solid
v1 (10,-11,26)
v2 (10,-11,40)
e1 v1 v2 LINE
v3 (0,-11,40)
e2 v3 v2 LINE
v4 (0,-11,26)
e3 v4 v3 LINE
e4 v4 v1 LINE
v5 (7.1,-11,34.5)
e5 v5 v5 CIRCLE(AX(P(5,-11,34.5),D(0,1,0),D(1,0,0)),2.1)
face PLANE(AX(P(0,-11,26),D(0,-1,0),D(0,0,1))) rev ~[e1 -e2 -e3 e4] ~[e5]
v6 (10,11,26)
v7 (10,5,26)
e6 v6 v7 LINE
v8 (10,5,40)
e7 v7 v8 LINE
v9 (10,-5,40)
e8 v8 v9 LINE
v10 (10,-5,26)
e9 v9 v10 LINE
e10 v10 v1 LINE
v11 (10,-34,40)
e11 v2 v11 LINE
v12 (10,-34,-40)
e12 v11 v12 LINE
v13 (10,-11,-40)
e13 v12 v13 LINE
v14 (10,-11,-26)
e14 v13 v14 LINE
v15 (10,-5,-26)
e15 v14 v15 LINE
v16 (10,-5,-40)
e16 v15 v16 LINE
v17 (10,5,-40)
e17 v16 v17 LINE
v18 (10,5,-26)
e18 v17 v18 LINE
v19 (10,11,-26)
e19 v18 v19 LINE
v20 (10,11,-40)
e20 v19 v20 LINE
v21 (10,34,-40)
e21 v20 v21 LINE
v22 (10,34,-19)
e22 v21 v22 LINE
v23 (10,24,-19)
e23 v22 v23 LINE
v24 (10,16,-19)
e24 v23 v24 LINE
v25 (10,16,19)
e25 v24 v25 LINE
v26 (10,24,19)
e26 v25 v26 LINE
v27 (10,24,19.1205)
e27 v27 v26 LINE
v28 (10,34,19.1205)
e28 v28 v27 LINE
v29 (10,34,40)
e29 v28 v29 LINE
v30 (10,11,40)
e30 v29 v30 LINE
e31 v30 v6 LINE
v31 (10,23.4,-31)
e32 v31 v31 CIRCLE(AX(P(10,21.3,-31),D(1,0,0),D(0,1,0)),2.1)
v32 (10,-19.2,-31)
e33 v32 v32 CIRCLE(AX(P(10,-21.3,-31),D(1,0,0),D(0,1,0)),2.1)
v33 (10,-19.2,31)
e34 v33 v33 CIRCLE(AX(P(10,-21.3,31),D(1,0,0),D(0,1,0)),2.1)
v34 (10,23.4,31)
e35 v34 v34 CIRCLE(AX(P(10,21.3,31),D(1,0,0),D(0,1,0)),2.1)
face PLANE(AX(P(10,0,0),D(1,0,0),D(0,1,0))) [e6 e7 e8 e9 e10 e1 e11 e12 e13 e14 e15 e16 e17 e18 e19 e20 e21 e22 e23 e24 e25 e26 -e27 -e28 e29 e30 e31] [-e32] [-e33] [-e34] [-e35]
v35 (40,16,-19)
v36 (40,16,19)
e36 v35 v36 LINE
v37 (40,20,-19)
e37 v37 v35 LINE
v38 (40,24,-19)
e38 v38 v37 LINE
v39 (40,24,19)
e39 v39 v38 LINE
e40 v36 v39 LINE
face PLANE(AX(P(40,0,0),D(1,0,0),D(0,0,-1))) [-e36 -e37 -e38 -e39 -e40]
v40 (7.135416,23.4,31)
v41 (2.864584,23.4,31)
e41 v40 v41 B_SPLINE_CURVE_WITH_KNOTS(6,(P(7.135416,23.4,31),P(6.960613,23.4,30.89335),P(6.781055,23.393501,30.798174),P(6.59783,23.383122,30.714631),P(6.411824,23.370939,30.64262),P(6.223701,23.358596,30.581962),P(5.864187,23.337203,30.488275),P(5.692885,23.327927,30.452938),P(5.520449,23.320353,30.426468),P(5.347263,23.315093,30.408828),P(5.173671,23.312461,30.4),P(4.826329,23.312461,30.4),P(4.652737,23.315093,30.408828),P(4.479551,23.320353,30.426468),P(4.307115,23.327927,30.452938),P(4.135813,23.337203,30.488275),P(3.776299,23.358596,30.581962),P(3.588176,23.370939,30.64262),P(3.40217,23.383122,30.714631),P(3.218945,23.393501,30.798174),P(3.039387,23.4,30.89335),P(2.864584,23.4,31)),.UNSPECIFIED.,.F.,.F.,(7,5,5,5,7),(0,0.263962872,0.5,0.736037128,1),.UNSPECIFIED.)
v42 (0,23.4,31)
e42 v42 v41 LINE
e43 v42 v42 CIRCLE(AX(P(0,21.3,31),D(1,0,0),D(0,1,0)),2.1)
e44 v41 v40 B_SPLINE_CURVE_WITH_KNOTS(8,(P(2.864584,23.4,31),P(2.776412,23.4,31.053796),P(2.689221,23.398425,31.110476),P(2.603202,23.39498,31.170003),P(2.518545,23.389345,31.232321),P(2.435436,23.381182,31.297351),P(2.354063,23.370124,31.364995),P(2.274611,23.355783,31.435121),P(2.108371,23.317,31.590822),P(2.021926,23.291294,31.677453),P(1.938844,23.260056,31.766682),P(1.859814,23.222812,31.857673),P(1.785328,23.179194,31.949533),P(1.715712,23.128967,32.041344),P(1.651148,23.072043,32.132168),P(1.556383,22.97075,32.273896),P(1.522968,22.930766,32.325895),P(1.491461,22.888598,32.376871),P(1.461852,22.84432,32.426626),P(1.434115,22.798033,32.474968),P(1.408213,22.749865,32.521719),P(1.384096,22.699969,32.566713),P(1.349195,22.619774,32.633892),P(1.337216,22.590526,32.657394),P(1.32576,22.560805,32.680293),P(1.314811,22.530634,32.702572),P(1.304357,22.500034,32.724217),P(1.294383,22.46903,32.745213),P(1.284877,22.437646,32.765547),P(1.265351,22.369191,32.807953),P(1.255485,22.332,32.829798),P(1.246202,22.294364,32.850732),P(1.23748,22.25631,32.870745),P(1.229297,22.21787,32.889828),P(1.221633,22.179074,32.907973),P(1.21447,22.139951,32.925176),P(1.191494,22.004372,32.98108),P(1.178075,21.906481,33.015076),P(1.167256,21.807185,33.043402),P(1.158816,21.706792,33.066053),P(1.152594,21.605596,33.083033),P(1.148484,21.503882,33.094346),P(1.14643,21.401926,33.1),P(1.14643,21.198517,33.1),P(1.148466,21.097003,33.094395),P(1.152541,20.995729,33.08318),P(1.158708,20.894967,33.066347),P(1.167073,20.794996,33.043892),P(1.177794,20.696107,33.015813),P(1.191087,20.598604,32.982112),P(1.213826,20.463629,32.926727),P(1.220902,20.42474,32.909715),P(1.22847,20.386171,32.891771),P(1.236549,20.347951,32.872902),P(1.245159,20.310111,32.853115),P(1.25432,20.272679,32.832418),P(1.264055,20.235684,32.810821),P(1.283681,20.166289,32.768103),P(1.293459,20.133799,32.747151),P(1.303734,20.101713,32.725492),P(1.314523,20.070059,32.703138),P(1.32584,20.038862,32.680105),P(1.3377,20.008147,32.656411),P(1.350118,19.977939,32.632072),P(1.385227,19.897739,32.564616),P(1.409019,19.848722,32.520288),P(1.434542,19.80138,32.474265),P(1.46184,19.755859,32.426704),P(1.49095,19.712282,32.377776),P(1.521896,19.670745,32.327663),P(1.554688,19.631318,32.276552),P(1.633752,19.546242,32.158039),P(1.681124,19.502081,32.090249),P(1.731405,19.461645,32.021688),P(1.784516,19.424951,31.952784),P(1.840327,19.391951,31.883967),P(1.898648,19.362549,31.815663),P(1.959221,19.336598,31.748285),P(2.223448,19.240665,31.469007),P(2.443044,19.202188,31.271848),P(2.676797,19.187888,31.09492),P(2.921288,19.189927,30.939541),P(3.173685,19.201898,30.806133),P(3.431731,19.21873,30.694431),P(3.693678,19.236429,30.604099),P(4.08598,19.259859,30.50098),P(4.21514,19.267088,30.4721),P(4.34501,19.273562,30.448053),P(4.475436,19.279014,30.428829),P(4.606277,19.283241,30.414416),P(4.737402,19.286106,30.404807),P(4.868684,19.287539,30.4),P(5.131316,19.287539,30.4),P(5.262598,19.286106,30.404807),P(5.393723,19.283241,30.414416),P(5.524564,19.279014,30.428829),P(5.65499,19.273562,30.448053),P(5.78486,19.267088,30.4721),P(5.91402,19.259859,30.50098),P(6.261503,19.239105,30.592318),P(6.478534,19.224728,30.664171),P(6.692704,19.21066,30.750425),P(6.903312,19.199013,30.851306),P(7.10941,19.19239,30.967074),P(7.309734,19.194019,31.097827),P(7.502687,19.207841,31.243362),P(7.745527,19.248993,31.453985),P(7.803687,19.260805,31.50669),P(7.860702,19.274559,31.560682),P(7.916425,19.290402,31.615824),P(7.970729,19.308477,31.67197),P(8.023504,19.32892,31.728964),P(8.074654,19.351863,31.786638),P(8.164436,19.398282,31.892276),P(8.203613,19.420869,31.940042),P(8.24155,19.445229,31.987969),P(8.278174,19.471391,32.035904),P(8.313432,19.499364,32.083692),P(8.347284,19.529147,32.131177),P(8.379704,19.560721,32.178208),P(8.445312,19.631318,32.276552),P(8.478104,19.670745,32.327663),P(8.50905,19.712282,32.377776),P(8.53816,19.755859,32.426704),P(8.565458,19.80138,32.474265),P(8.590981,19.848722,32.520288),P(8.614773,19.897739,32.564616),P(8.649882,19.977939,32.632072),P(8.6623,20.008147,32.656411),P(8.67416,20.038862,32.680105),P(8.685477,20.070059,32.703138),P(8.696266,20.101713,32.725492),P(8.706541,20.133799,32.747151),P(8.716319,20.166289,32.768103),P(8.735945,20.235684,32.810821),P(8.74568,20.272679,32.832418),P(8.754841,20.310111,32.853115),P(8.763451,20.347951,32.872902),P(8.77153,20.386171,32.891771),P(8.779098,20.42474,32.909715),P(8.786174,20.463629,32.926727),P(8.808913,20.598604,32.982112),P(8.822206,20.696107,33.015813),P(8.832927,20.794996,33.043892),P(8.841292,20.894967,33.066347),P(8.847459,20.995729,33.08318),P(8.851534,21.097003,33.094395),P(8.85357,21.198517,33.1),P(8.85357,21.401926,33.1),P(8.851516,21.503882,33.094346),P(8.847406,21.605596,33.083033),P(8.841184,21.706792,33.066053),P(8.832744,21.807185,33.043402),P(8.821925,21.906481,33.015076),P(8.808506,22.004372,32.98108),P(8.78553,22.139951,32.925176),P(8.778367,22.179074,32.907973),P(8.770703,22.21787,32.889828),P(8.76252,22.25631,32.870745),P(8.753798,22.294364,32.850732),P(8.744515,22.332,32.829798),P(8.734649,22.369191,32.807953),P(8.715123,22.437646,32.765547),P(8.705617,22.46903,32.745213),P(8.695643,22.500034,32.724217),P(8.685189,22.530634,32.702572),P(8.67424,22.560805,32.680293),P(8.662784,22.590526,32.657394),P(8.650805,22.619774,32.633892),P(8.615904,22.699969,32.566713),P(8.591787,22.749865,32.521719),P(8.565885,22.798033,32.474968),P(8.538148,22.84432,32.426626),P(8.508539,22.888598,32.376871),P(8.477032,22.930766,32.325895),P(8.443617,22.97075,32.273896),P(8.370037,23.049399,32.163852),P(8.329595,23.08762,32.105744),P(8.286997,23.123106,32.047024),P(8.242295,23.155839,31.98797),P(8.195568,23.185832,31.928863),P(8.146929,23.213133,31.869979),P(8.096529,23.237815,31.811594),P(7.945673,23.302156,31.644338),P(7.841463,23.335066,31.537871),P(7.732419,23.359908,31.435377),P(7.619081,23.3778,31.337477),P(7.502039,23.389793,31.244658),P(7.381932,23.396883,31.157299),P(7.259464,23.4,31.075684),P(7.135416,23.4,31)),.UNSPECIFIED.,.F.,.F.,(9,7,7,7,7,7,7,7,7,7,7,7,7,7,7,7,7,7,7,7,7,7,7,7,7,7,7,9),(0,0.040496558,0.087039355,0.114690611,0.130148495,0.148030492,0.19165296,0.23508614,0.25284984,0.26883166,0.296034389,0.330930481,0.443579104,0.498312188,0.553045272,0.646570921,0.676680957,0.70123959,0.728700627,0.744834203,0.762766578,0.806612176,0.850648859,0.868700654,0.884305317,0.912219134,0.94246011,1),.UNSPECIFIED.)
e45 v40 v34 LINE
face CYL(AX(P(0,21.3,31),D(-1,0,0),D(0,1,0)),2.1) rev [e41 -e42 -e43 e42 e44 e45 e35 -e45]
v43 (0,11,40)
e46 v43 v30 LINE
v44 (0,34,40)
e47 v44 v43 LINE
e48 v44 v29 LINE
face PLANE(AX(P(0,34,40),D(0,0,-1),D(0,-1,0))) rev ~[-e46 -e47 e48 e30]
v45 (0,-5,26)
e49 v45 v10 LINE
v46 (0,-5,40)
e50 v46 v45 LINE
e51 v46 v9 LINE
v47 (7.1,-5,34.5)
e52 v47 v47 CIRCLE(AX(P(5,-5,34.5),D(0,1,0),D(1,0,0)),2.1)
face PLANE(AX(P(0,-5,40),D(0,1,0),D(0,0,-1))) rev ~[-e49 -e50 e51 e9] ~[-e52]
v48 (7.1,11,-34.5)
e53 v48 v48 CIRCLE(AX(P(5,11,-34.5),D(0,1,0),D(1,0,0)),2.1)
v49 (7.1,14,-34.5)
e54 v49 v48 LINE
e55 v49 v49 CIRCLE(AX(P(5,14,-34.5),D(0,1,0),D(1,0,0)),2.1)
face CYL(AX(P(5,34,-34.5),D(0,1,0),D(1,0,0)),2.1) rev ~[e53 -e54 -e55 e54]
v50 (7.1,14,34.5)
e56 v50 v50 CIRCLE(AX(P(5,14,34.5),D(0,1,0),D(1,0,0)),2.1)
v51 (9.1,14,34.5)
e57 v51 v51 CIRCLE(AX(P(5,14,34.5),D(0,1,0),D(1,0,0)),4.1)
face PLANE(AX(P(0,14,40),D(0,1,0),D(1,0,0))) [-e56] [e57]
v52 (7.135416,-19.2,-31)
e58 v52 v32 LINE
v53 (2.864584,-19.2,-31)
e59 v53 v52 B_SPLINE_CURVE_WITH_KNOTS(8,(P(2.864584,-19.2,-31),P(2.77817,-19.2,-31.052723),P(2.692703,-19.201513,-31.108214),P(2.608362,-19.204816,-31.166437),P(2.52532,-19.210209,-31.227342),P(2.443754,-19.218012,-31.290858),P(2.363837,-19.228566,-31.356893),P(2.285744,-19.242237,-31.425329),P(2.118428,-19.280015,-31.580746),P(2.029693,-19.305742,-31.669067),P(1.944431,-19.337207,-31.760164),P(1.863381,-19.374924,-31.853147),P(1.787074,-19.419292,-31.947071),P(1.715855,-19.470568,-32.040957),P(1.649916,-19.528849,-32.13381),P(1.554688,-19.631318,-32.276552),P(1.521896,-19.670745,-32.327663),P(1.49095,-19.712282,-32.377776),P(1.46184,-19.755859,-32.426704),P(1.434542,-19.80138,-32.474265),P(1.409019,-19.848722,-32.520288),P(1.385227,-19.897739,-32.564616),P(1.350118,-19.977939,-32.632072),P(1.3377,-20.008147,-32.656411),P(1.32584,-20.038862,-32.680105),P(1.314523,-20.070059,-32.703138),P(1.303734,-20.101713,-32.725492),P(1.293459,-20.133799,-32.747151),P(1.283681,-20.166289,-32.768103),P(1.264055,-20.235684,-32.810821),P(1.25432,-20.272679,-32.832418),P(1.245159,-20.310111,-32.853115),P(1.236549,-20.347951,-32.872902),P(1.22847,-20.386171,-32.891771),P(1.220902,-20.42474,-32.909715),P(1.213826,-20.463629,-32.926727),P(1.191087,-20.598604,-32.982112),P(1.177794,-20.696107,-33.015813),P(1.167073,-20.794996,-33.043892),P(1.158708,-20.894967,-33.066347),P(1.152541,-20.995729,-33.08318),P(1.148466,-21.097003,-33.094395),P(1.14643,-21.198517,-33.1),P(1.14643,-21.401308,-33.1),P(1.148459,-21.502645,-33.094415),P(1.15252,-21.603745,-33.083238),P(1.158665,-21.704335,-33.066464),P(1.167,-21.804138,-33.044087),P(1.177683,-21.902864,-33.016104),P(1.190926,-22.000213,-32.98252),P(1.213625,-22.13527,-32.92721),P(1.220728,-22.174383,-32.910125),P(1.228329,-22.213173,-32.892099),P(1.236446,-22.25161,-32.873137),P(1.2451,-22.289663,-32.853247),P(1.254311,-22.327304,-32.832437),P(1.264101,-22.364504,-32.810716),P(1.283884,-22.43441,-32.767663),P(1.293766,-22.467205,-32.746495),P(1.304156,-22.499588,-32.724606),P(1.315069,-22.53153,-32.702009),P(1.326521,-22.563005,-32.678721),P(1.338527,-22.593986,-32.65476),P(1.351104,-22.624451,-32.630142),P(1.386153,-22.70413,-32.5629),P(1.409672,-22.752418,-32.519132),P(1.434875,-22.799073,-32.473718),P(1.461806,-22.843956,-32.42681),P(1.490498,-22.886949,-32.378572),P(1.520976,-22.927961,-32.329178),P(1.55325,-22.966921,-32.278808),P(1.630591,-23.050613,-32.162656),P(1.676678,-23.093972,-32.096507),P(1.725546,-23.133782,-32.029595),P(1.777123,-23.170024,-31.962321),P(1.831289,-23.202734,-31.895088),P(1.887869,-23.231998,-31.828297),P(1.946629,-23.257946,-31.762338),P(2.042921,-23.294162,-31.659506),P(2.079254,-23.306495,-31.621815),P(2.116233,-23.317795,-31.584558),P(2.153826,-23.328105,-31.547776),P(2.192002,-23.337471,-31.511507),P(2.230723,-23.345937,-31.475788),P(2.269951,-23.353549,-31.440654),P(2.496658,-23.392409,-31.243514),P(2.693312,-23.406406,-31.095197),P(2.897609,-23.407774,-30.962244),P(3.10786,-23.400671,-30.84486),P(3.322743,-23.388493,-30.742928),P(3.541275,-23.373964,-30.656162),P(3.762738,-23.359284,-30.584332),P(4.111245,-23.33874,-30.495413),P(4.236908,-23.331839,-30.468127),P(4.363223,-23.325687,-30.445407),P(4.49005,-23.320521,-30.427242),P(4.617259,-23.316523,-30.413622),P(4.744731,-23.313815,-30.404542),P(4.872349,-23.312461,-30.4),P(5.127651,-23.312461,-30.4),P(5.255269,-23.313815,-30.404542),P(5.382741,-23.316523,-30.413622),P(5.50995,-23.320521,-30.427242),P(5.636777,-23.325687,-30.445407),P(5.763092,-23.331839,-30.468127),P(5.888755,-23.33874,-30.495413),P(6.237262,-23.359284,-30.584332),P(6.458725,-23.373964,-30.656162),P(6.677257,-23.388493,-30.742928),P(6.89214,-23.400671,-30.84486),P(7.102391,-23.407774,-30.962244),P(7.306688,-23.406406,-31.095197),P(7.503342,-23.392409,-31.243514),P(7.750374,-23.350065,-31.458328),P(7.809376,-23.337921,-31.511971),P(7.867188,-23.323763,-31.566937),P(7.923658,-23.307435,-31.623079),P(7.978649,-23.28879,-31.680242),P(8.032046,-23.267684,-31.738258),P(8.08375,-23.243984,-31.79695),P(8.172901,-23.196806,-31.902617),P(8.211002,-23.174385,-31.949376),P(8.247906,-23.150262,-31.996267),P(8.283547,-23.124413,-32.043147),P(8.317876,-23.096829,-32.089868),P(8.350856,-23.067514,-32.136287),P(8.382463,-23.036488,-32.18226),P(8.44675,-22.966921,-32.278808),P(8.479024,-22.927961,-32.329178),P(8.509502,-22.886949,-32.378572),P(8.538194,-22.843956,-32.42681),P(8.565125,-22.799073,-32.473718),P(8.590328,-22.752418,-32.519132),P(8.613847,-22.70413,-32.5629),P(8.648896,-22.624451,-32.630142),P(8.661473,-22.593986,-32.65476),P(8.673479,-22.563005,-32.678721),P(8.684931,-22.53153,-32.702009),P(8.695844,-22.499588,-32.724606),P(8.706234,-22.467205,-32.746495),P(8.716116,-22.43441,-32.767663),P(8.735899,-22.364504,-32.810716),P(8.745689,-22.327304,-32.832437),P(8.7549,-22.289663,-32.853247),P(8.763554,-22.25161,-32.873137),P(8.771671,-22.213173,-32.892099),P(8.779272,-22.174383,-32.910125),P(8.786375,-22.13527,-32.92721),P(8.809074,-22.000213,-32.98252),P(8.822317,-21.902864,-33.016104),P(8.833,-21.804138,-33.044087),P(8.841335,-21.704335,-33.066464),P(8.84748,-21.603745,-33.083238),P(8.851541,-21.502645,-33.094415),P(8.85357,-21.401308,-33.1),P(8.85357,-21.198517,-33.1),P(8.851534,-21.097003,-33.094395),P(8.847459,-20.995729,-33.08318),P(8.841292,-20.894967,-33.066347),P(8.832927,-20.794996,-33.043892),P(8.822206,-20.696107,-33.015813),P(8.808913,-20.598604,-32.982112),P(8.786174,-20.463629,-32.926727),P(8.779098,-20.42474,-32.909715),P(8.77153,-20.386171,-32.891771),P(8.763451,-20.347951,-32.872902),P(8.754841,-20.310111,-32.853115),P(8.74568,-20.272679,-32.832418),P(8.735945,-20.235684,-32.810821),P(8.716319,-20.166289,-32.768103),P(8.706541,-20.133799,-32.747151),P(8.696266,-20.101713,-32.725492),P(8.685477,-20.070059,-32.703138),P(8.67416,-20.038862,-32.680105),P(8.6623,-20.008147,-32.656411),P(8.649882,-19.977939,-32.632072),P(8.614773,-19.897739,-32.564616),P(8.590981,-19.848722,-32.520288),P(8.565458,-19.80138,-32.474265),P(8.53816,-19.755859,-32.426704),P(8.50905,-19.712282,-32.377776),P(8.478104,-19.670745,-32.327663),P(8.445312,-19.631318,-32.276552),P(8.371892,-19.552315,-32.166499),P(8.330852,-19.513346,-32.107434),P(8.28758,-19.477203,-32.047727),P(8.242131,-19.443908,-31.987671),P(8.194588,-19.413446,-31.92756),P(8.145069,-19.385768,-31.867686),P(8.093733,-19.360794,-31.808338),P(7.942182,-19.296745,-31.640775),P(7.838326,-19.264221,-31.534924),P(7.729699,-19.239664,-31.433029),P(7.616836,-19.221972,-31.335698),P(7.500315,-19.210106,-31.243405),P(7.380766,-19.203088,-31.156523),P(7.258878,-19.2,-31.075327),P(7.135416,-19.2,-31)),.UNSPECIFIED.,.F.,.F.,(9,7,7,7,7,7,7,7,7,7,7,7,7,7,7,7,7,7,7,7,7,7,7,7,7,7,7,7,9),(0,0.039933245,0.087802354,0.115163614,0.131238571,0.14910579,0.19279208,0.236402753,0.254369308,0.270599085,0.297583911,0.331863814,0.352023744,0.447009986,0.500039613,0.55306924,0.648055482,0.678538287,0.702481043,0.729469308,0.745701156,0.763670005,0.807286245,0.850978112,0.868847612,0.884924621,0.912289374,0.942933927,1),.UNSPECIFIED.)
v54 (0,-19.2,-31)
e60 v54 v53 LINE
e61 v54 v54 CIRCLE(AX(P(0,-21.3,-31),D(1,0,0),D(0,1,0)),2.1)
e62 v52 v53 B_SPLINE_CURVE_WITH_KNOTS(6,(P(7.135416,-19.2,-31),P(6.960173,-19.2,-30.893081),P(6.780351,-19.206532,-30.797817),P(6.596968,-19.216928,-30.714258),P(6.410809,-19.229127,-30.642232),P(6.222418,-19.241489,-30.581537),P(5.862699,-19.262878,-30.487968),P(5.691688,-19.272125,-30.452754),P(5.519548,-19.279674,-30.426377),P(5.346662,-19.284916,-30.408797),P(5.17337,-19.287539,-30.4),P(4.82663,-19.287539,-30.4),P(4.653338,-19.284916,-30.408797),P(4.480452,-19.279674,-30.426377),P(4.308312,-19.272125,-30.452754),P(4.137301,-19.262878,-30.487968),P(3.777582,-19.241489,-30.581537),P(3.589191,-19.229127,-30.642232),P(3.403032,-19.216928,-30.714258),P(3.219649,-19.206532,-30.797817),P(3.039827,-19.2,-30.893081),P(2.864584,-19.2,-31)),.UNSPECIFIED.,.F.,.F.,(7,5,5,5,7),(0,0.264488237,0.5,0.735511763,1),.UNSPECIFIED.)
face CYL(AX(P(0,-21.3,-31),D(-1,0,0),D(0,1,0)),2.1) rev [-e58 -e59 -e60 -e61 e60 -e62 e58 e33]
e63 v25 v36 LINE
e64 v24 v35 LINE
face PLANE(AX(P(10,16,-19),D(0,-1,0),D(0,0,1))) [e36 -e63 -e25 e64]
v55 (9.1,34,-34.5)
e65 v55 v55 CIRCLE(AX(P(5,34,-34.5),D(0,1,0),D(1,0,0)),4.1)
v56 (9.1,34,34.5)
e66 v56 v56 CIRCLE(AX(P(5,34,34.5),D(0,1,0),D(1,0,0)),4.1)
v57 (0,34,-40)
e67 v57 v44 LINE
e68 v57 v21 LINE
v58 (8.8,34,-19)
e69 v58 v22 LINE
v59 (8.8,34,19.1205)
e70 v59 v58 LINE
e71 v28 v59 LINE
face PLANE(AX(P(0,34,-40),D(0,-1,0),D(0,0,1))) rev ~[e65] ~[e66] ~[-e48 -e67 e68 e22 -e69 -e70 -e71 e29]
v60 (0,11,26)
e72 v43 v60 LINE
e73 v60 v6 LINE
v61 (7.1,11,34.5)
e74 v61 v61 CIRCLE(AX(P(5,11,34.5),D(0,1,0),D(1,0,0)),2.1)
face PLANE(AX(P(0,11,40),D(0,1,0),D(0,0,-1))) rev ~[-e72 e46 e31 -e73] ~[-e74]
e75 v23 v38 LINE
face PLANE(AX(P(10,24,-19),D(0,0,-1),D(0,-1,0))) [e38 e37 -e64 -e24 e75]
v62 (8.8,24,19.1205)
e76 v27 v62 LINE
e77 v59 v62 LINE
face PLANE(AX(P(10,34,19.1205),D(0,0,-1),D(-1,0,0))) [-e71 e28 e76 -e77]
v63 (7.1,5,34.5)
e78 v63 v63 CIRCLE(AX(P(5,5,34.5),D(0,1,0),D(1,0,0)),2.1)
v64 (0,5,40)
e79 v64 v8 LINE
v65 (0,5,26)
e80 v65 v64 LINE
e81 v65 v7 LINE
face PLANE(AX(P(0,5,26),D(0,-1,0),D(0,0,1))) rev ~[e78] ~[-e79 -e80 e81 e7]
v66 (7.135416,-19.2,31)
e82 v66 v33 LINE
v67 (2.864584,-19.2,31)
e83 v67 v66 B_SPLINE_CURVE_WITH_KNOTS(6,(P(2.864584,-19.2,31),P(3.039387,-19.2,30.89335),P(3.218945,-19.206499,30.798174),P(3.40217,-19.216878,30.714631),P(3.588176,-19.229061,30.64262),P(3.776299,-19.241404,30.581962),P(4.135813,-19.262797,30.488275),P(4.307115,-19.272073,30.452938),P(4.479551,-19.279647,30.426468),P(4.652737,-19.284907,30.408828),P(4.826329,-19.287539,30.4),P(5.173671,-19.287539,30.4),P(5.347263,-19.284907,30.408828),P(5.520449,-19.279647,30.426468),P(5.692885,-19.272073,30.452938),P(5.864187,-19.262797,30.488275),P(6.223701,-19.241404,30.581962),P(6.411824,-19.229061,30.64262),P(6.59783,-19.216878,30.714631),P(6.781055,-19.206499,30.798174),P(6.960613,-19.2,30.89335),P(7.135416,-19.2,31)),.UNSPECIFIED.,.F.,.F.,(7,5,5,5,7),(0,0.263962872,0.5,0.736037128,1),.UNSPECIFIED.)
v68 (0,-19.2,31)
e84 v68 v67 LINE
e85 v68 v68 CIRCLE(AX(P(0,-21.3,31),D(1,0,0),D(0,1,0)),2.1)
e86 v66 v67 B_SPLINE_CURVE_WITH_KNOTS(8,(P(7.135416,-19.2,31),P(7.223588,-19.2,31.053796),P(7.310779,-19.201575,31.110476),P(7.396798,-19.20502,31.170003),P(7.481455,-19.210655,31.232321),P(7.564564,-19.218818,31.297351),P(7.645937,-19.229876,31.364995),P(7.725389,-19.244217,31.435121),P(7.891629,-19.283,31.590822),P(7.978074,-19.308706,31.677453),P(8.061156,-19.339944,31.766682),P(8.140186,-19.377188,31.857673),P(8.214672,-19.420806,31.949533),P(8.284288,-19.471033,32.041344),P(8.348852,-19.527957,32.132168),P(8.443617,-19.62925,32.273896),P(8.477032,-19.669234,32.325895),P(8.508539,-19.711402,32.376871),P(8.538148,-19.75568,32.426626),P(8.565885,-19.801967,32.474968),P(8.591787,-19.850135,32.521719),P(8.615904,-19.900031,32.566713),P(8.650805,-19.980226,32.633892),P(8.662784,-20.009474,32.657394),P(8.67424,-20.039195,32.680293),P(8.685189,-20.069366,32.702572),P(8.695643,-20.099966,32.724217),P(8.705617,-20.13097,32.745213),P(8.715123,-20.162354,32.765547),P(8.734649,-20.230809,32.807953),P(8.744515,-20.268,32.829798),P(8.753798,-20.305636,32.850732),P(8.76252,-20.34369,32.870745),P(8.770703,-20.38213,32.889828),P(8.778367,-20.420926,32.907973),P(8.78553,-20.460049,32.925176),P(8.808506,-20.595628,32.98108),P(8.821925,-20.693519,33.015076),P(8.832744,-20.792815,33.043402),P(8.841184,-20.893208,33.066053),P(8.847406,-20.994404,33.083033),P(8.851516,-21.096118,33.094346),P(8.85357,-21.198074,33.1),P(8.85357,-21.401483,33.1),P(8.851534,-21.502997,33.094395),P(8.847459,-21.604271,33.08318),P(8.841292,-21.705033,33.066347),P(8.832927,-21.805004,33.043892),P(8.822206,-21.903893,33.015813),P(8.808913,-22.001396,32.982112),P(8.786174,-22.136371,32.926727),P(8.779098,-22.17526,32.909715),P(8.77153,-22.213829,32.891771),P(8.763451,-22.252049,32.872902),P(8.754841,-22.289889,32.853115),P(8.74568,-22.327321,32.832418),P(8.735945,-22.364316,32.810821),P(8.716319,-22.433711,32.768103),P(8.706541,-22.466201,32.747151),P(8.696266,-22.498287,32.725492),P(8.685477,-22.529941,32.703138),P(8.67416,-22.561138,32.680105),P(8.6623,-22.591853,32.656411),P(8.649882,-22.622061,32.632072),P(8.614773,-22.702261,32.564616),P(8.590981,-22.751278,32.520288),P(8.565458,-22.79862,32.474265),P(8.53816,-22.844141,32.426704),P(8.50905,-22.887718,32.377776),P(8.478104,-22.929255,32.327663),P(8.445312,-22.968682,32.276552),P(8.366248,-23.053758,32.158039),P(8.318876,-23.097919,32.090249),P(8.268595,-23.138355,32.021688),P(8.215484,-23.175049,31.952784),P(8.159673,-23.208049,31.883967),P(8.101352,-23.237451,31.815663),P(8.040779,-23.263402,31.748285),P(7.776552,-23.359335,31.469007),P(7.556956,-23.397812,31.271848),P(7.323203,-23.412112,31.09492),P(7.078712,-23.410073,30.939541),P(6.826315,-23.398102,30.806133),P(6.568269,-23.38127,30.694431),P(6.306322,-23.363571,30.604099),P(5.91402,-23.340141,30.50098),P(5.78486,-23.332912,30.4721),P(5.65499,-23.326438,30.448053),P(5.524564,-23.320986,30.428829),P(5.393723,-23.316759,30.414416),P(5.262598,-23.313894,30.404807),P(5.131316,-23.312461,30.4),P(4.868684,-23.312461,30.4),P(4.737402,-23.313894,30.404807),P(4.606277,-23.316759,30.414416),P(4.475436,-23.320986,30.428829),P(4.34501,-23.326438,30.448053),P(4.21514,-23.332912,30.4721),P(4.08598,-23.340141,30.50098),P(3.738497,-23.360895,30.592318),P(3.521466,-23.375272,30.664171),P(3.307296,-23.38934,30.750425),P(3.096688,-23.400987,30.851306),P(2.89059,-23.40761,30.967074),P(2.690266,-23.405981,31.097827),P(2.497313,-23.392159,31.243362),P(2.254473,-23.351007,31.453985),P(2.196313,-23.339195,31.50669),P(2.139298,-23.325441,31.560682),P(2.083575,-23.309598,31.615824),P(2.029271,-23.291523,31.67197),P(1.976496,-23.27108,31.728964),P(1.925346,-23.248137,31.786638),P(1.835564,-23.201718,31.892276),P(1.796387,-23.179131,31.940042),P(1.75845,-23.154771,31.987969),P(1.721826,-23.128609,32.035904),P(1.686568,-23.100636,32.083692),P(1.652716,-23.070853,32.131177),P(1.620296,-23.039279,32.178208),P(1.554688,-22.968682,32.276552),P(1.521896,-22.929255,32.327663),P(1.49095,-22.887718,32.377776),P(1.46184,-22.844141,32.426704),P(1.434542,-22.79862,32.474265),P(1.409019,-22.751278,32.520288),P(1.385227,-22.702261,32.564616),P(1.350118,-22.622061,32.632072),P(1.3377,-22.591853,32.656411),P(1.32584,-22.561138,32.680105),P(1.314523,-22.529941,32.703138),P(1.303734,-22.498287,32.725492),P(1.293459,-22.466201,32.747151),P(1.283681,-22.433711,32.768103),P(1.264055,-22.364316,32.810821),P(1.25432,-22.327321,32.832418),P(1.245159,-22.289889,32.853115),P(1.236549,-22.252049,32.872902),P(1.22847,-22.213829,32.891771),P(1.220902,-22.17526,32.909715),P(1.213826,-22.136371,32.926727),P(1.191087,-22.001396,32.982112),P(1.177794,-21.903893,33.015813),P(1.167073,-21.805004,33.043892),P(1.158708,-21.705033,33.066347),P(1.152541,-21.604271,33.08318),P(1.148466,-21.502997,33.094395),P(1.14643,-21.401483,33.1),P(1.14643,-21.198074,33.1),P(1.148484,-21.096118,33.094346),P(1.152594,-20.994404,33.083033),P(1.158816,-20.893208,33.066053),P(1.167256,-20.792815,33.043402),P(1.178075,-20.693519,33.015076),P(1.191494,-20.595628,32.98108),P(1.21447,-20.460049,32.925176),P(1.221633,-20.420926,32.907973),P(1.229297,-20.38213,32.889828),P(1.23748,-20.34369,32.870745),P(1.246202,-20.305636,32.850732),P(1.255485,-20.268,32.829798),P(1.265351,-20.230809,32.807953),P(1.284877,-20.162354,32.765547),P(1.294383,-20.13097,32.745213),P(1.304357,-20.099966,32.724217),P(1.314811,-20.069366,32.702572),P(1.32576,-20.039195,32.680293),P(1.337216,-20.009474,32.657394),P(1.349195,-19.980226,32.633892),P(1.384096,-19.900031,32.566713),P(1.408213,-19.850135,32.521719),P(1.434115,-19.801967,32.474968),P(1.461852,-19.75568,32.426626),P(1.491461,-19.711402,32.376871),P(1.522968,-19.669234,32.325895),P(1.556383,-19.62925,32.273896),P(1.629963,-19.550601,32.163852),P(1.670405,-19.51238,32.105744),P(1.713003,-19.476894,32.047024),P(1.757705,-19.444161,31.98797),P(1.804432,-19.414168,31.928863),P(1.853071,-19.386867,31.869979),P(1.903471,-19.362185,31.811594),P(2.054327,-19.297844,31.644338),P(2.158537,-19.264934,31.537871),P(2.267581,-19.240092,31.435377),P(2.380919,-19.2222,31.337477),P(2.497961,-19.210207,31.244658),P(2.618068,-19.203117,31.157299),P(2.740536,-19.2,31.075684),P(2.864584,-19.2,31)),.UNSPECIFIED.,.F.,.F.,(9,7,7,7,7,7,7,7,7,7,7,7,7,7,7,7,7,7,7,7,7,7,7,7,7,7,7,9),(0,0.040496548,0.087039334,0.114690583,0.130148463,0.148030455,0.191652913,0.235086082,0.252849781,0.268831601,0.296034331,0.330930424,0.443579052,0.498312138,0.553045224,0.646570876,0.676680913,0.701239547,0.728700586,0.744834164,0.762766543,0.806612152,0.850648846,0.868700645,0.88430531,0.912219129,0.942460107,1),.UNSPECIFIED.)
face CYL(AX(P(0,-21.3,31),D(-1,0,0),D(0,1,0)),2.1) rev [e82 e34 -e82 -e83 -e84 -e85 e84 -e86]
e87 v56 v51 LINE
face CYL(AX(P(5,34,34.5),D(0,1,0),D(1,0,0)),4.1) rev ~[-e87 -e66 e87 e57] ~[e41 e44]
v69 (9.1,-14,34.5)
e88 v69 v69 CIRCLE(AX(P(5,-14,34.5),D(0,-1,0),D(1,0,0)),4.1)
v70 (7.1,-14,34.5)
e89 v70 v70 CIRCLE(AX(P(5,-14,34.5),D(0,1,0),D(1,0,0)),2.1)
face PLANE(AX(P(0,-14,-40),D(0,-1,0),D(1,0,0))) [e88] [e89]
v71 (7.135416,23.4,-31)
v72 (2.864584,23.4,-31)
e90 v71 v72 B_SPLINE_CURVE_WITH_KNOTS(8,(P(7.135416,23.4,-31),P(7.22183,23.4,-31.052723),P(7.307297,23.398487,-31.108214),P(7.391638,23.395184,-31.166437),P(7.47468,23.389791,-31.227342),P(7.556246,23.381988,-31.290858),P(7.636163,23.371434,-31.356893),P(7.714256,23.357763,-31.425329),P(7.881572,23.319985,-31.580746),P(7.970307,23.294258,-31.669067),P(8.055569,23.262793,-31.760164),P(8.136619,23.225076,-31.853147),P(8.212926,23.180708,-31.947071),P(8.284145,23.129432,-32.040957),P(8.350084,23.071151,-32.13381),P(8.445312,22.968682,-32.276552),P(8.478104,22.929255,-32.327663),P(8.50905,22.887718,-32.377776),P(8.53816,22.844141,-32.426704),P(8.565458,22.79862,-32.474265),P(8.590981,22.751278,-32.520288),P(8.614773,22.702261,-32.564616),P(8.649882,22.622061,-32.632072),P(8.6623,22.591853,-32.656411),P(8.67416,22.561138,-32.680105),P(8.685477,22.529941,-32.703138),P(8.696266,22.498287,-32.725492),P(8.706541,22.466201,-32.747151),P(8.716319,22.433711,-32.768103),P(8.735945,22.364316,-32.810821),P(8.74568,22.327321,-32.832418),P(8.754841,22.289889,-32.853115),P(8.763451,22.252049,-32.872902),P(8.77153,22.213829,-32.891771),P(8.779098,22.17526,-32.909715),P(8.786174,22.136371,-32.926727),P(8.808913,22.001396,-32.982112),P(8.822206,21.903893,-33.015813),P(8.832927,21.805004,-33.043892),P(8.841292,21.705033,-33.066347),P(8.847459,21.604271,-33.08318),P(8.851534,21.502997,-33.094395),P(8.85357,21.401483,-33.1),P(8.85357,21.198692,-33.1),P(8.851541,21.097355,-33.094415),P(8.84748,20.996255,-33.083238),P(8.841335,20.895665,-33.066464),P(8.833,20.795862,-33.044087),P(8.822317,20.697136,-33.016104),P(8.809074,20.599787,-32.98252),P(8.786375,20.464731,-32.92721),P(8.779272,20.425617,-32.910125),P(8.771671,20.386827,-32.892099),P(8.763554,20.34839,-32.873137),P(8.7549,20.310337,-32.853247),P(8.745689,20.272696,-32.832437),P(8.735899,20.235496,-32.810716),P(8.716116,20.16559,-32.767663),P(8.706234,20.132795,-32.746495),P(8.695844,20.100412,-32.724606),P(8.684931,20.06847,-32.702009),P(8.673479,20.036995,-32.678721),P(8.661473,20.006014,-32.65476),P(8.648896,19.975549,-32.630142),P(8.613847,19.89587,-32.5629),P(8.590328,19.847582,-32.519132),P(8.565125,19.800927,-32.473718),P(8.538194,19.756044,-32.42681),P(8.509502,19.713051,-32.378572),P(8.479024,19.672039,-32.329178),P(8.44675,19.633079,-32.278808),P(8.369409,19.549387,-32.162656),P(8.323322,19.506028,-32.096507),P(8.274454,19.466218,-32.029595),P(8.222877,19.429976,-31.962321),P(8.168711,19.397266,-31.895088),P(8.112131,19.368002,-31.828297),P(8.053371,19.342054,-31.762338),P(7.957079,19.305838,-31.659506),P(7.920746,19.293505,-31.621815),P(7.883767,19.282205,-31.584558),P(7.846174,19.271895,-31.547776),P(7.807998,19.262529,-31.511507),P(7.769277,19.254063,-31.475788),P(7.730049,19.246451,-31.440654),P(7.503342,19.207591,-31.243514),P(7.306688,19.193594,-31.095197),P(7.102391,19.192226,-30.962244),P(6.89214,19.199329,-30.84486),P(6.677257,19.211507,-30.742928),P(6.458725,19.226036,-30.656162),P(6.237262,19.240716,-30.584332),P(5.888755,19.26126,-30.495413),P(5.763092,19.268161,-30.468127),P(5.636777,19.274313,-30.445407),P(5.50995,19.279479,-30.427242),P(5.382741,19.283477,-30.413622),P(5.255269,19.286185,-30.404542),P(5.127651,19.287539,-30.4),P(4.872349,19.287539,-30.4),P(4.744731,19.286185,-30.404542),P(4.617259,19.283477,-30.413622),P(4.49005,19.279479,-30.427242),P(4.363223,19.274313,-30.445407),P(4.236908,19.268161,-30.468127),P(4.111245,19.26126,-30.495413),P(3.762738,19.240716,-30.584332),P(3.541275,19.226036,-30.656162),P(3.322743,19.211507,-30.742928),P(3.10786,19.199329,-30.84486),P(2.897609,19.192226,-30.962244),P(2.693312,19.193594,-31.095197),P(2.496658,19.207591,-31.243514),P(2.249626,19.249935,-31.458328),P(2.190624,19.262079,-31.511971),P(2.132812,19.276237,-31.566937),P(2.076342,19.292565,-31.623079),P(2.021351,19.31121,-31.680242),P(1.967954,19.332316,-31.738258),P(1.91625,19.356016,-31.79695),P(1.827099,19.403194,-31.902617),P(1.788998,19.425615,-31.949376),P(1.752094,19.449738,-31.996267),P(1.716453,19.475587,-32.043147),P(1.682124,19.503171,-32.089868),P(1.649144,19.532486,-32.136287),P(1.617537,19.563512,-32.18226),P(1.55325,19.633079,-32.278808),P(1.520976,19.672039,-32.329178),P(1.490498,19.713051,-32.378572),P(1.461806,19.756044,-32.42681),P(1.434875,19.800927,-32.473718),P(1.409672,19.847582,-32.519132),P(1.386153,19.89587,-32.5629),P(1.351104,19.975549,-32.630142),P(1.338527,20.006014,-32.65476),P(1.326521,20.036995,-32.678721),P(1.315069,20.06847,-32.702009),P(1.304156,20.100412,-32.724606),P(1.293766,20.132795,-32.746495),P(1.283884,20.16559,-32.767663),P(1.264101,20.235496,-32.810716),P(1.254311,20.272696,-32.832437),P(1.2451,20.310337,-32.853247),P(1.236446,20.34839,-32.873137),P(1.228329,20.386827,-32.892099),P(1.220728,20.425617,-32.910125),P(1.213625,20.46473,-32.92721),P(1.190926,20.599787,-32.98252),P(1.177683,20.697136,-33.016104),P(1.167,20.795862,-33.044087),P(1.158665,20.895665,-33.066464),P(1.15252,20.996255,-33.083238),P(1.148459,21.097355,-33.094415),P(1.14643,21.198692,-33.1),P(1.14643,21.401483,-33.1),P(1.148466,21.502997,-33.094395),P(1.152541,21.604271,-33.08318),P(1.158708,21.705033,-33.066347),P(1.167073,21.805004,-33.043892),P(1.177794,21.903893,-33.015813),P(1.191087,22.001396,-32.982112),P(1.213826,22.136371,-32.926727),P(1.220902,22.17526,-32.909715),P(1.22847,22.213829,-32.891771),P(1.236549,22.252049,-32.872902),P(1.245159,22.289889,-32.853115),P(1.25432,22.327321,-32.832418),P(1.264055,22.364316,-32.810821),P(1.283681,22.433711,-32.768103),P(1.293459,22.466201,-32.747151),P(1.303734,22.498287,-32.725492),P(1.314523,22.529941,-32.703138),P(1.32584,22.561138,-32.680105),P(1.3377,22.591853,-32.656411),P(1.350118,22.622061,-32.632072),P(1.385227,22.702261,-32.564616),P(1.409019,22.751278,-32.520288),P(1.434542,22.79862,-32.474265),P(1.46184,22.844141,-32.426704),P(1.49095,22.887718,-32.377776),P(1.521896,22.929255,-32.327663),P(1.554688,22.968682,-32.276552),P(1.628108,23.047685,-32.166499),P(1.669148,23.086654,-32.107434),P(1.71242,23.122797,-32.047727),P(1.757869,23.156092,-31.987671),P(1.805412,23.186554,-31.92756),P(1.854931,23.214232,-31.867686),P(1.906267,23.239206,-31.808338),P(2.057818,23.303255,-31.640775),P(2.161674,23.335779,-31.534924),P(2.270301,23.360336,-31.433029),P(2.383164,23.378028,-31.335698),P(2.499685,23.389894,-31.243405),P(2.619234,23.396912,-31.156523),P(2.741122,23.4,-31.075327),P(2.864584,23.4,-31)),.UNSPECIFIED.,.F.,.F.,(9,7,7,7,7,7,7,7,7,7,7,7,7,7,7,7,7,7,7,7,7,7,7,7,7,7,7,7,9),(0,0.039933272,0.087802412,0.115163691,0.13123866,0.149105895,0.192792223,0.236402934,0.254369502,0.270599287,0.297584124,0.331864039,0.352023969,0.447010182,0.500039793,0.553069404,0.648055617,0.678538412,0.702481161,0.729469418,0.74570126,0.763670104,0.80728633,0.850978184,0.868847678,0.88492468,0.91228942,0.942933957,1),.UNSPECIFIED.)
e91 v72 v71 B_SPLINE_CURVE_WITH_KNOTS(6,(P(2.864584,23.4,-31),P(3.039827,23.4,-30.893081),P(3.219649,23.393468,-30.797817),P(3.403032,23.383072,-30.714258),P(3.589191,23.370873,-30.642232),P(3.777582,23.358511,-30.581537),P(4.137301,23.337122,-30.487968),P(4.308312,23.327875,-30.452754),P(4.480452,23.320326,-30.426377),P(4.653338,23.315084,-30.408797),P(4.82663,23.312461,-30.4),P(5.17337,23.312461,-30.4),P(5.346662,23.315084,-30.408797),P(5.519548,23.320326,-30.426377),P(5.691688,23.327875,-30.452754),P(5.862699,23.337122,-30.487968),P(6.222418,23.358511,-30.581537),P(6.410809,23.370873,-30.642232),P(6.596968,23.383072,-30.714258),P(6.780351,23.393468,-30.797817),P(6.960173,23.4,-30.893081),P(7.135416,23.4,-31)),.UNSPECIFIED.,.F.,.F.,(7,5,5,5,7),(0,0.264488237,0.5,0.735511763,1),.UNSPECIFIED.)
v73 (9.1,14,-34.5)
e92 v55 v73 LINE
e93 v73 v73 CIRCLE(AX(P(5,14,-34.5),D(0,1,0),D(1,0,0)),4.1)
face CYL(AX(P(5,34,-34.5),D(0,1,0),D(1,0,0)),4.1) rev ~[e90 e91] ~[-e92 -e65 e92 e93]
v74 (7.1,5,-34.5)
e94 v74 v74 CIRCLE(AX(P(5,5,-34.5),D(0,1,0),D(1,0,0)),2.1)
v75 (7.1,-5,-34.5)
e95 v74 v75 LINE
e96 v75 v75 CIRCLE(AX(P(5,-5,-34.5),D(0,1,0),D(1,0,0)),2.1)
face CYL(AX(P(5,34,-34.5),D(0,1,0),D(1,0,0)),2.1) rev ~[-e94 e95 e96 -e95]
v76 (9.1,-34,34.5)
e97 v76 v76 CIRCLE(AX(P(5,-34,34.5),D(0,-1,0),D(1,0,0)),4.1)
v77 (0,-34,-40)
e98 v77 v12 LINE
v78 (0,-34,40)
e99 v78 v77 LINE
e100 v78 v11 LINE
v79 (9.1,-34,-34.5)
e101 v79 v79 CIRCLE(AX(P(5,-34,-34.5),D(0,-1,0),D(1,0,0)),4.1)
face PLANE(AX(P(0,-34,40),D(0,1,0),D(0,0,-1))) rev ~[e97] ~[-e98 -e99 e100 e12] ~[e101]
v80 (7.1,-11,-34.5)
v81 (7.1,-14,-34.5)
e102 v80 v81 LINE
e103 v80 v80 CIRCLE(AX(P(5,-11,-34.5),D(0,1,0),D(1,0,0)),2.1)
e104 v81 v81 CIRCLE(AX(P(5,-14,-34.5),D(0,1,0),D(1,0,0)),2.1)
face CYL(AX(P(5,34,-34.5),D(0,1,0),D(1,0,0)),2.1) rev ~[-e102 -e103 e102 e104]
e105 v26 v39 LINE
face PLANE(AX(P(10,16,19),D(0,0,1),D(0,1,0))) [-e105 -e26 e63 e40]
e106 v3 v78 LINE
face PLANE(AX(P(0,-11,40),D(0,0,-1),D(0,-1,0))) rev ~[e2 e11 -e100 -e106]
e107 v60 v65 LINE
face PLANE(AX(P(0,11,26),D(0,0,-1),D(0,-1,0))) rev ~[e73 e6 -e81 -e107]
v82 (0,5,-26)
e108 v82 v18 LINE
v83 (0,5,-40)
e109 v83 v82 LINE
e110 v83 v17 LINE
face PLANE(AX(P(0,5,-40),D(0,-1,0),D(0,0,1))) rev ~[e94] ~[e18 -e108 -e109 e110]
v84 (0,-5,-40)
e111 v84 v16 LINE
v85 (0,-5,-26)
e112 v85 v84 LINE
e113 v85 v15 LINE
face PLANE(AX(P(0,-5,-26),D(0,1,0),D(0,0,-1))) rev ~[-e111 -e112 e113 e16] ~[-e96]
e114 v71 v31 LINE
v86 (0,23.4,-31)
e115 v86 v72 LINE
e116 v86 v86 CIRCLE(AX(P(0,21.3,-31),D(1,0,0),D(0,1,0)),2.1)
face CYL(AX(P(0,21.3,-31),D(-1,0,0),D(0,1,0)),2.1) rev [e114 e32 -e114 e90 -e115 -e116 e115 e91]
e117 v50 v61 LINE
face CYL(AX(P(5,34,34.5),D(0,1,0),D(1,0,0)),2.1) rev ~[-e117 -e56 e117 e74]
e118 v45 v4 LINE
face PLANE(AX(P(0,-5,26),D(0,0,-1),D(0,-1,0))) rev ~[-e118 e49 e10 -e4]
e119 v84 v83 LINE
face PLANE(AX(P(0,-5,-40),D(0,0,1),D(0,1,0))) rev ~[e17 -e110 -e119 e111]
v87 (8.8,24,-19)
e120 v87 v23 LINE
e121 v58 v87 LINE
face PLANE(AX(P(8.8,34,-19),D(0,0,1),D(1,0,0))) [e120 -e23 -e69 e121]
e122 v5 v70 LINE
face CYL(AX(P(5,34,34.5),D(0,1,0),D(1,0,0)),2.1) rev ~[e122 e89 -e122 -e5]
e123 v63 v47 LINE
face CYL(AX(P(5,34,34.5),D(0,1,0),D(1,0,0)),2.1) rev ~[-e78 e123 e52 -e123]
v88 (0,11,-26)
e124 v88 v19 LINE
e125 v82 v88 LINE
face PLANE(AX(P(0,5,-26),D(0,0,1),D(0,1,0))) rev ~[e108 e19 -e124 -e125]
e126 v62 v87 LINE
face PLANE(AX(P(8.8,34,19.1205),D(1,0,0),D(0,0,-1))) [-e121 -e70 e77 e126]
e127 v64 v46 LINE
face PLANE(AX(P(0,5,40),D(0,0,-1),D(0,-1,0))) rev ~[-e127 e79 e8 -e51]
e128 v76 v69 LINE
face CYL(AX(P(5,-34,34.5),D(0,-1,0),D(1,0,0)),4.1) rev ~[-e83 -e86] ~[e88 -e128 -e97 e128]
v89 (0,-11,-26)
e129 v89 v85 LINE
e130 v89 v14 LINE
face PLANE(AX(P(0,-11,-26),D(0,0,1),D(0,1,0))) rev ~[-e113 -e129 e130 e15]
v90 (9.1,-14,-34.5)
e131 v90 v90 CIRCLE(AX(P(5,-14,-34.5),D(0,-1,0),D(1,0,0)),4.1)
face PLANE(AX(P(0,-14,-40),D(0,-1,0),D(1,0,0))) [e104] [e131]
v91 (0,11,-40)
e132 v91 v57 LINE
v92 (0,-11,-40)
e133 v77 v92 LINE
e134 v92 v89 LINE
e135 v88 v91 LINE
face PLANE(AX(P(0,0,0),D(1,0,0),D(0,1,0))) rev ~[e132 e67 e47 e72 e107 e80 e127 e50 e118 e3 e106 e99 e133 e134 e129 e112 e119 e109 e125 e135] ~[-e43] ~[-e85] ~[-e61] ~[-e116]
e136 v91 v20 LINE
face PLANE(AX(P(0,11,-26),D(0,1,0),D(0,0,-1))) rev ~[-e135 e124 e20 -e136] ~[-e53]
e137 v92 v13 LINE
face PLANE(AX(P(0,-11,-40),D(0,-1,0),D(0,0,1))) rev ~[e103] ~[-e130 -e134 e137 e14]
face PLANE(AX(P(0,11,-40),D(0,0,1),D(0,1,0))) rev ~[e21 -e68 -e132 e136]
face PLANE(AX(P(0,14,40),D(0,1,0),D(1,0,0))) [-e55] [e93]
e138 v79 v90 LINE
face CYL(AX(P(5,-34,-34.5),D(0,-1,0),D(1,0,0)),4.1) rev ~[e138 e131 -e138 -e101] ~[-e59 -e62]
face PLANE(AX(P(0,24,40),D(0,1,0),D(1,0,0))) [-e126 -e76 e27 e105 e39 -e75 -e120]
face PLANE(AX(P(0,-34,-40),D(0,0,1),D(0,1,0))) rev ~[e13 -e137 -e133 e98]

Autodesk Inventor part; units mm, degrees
ref_plane "YZ Plane" through (0, 0, 0) normal (1, 0, 0) x (0, 1, 0)
ref_plane "XZ Plane" through (0, 0, 0) normal (0, 1, 0) x (-1, 0, 0)
ref_plane "XY Plane" through (0, 0, 0) normal (0, 0, 1) x (1, 0, 0)
sketch "Эскиз1" plane through (0, 0, 0) normal (1, 0, 0) x (0, 1, 0)
  circle A0 centre (20, 15) radius 1.5
  circle A1 centre (-20, -15) radius 1.5
  circle A2 centre (-20, 15) radius 1.5
  circle A3 centre (20, -15) radius 1.5
  circle A4 centre (-21.3, -31) radius 2.1
  circle A5 centre (21.3, -31) radius 2.1
  circle A6 centre (-21.3, 31) radius 2.1
  circle A7 centre (21.3, 31) radius 2.1
  line L0 (-11, -40) -> (-11, -26)
  line L1 (-11, -26) -> (-5, -26)
  line L2 (-5, -26) -> (-5, -40)
  line L3 (-5, -40) -> (5, -40)
  line L4 (5, -40) -> (5, -26)
  line L5 (5, -26) -> (11, -26)
  line L6 (11, -26) -> (11, -40)
  line L7 (11, -40) -> (34, -40)
  line L8 (34, -40) -> (34, 40)
  line L9 (34, 40) -> (11, 40)
  line L10 (11, 40) -> (11, 26)
  line L11 (11, 26) -> (5, 26)
  line L12 (5, 26) -> (5, 40)
  line L13 (5, 40) -> (-5, 40)
  line L14 (-5, 40) -> (-5, 26)
  line L15 (-5, 26) -> (-11, 26)
  line L16 (-11, 26) -> (-11, 40)
  line L17 (-11, 40) -> (-34, 40)
  line L18 (-34, 40) -> (-34, -40)
  line L19 (-34, -40) -> (-11, -40)
  point P0 (0, 0)
extrude "Выдавливание1" add sketch "Эскиз1" along normal blind 10 contours A0 | A1 | A2 | A3 | L19 L18 L17 L16 L15 L14 L13 L12 L11 L10 L9 L8 L7 L6 L5 L4 L3 L2 L1 L0
sketch "Эскиз2" plane through (10, 0, 0) normal (1, 0, 0) x (0, 0, -1)
  circle A0 centre (15, -20) radius 1.5
  circle A1 centre (-15, 20) radius 1.5
  circle A2 centre (15, 20) radius 1.5
  circle A3 centre (-15, -20) radius 1.5
  circle A4 centre (-31, 21.48) radius 2.1
  circle A5 centre (-31, -21.48) radius 2.1
  circle A6 centre (31, 21.48) radius 2.1
  circle A7 centre (31, -21.48) radius 2.1
  line L0 (-40, 11) -> (-26, 11)
  line L1 (-26, 11) -> (-26, 5)
  line L2 (-26, 5) -> (-40, 5)
  line L3 (-40, 5) -> (-40, -5)
  line L4 (-40, -5) -> (-26, -5)
  line L5 (-26, -5) -> (-26, -11)
  line L6 (-26, -11) -> (-40, -11)
  line L7 (-40, -11) -> (-40, -34)
  line L8 (-40, -34) -> (40, -34)
  line L9 (40, -34) -> (40, -11)
  line L10 (40, -11) -> (26, -11)
  line L11 (26, -11) -> (26, -5)
  line L12 (26, -5) -> (40, -5)
  line L13 (40, -5) -> (40, 5)
  line L14 (40, 5) -> (26, 5)
  line L15 (26, 5) -> (26, 11)
  line L16 (26, 11) -> (40, 11)
  line L17 (40, 11) -> (40, 34)
  line L18 (40, 34) -> (-40, 34)
  line L19 (-40, 34) -> (-40, 11)
  line L20 (-15, 20) -> (-15, 24)
  line L21 (-15, 20) -> (-19, 20)
  line L22 (-19, 20) -> (-19, 24)
  line L23 (15, 20) -> (19, 20)
  line L24 (19, 20) -> (19, 16)
  line L25 (-19, 24) -> (19, 24)
  line L26 (19, 24) -> (19, 16)
  line L27 (19, 16) -> (-19, 16)
  line L28 (-19, 16) -> (-19, 24)
  point P0 (0, 0)
  point P1 (0, 0)
  dimension "d4" = 4
  dimension "d5" = 4
  dimension "d6" = 4
  dimension "d7" = 4
extrude "Выдавливание2" add sketch "Эскиз2" along normal blind 30 contours A1 L21 L20 | A2 | A1 L20 L25 L26 L24 L27 L28 L21 | L20 L21 A1 | A1 L21 L22 L25 L20
sketch "Эскиз3" plane through (0, 34, 40) normal (0, 1, 0) x (1, 0, 0)
  line L0 (0, 0) -> (10, 0) projected
  line L1 (5, 0) -> (5, 5.5)
  line L2 (0, 80) -> (10, 80) projected
  line L3 (5, 80) -> (5, 74.5)
  circle A0 centre (5, 5.5) radius 2.1
  circle A1 centre (5, 74.5) radius 2.1
  point P0 (0, 40)
  dimension "d11" = 5.5
  dimension "d12" = 5.5
  dimension "d13" = 4.2
  dimension "d14" = 4.2
extrude "Выдавливание3" cut sketch "Эскиз3" against normal through all
sketch "Эскиз4" plane through (0, 34, 40) normal (0, 1, 0) x (1, 0, 0)
  circle A0 centre (5, 5.5) radius 2.1 projected
  circle A1 centre (5, 5.5) radius 4.1
  circle A2 centre (5, 74.5) radius 2.1 projected
  circle A3 centre (5, 74.5) radius 4.1
  point P0 (0, 40)
  dimension "d17" = 8.2
  dimension "d18" = 8.2
extrude "Выдавливание4" cut sketch "Эскиз4" against normal blind 20 contours A0 | A1 | A2 | A3
sketch "Эскиз5" plane through (0, -34, -40) normal (0, -1, 0) x (1, 0, 0)
  circle A0 centre (5, 74.5) radius 2.1 projected
  circle A1 centre (5, 74.5) radius 4.1
  circle A2 centre (5, 5.5) radius 2.1 projected
  circle A3 centre (5, 5.5) radius 4.1
  point P0 (0, 40)
  dimension "d21" = 8.2
  dimension "d22" = 8.2
extrude "Выдавливание5" cut sketch "Эскиз5" against normal blind 20 contours A0 | A1 | A2 | A3
sketch "Эскиз8" plane through (0, 34, 40) normal (0, 1, 0) x (1, 0, 0)
  line L0 (10, 0) -> (10, 80) projected
  line L1 (10, 20.8795) -> (8.8, 20.8795)
  line L2 (8.8, 20.8795) -> (8.8, 59)
  line L3 (8.8, 59) -> (10, 59)
  line L4 (10, 59) -> (10, 20.8795)
  point P0 (0, 40)
  dimension "d34" = 1.2
extrude "Выдавливание8" cut sketch "Эскиз8" against normal blind 10
equation "\"d12\" = d11"
equation "\"d14\" = d13"
properties part number "КВ33.044.604 - Щека 2 каретка оси Y" material "Пластик АБС"
